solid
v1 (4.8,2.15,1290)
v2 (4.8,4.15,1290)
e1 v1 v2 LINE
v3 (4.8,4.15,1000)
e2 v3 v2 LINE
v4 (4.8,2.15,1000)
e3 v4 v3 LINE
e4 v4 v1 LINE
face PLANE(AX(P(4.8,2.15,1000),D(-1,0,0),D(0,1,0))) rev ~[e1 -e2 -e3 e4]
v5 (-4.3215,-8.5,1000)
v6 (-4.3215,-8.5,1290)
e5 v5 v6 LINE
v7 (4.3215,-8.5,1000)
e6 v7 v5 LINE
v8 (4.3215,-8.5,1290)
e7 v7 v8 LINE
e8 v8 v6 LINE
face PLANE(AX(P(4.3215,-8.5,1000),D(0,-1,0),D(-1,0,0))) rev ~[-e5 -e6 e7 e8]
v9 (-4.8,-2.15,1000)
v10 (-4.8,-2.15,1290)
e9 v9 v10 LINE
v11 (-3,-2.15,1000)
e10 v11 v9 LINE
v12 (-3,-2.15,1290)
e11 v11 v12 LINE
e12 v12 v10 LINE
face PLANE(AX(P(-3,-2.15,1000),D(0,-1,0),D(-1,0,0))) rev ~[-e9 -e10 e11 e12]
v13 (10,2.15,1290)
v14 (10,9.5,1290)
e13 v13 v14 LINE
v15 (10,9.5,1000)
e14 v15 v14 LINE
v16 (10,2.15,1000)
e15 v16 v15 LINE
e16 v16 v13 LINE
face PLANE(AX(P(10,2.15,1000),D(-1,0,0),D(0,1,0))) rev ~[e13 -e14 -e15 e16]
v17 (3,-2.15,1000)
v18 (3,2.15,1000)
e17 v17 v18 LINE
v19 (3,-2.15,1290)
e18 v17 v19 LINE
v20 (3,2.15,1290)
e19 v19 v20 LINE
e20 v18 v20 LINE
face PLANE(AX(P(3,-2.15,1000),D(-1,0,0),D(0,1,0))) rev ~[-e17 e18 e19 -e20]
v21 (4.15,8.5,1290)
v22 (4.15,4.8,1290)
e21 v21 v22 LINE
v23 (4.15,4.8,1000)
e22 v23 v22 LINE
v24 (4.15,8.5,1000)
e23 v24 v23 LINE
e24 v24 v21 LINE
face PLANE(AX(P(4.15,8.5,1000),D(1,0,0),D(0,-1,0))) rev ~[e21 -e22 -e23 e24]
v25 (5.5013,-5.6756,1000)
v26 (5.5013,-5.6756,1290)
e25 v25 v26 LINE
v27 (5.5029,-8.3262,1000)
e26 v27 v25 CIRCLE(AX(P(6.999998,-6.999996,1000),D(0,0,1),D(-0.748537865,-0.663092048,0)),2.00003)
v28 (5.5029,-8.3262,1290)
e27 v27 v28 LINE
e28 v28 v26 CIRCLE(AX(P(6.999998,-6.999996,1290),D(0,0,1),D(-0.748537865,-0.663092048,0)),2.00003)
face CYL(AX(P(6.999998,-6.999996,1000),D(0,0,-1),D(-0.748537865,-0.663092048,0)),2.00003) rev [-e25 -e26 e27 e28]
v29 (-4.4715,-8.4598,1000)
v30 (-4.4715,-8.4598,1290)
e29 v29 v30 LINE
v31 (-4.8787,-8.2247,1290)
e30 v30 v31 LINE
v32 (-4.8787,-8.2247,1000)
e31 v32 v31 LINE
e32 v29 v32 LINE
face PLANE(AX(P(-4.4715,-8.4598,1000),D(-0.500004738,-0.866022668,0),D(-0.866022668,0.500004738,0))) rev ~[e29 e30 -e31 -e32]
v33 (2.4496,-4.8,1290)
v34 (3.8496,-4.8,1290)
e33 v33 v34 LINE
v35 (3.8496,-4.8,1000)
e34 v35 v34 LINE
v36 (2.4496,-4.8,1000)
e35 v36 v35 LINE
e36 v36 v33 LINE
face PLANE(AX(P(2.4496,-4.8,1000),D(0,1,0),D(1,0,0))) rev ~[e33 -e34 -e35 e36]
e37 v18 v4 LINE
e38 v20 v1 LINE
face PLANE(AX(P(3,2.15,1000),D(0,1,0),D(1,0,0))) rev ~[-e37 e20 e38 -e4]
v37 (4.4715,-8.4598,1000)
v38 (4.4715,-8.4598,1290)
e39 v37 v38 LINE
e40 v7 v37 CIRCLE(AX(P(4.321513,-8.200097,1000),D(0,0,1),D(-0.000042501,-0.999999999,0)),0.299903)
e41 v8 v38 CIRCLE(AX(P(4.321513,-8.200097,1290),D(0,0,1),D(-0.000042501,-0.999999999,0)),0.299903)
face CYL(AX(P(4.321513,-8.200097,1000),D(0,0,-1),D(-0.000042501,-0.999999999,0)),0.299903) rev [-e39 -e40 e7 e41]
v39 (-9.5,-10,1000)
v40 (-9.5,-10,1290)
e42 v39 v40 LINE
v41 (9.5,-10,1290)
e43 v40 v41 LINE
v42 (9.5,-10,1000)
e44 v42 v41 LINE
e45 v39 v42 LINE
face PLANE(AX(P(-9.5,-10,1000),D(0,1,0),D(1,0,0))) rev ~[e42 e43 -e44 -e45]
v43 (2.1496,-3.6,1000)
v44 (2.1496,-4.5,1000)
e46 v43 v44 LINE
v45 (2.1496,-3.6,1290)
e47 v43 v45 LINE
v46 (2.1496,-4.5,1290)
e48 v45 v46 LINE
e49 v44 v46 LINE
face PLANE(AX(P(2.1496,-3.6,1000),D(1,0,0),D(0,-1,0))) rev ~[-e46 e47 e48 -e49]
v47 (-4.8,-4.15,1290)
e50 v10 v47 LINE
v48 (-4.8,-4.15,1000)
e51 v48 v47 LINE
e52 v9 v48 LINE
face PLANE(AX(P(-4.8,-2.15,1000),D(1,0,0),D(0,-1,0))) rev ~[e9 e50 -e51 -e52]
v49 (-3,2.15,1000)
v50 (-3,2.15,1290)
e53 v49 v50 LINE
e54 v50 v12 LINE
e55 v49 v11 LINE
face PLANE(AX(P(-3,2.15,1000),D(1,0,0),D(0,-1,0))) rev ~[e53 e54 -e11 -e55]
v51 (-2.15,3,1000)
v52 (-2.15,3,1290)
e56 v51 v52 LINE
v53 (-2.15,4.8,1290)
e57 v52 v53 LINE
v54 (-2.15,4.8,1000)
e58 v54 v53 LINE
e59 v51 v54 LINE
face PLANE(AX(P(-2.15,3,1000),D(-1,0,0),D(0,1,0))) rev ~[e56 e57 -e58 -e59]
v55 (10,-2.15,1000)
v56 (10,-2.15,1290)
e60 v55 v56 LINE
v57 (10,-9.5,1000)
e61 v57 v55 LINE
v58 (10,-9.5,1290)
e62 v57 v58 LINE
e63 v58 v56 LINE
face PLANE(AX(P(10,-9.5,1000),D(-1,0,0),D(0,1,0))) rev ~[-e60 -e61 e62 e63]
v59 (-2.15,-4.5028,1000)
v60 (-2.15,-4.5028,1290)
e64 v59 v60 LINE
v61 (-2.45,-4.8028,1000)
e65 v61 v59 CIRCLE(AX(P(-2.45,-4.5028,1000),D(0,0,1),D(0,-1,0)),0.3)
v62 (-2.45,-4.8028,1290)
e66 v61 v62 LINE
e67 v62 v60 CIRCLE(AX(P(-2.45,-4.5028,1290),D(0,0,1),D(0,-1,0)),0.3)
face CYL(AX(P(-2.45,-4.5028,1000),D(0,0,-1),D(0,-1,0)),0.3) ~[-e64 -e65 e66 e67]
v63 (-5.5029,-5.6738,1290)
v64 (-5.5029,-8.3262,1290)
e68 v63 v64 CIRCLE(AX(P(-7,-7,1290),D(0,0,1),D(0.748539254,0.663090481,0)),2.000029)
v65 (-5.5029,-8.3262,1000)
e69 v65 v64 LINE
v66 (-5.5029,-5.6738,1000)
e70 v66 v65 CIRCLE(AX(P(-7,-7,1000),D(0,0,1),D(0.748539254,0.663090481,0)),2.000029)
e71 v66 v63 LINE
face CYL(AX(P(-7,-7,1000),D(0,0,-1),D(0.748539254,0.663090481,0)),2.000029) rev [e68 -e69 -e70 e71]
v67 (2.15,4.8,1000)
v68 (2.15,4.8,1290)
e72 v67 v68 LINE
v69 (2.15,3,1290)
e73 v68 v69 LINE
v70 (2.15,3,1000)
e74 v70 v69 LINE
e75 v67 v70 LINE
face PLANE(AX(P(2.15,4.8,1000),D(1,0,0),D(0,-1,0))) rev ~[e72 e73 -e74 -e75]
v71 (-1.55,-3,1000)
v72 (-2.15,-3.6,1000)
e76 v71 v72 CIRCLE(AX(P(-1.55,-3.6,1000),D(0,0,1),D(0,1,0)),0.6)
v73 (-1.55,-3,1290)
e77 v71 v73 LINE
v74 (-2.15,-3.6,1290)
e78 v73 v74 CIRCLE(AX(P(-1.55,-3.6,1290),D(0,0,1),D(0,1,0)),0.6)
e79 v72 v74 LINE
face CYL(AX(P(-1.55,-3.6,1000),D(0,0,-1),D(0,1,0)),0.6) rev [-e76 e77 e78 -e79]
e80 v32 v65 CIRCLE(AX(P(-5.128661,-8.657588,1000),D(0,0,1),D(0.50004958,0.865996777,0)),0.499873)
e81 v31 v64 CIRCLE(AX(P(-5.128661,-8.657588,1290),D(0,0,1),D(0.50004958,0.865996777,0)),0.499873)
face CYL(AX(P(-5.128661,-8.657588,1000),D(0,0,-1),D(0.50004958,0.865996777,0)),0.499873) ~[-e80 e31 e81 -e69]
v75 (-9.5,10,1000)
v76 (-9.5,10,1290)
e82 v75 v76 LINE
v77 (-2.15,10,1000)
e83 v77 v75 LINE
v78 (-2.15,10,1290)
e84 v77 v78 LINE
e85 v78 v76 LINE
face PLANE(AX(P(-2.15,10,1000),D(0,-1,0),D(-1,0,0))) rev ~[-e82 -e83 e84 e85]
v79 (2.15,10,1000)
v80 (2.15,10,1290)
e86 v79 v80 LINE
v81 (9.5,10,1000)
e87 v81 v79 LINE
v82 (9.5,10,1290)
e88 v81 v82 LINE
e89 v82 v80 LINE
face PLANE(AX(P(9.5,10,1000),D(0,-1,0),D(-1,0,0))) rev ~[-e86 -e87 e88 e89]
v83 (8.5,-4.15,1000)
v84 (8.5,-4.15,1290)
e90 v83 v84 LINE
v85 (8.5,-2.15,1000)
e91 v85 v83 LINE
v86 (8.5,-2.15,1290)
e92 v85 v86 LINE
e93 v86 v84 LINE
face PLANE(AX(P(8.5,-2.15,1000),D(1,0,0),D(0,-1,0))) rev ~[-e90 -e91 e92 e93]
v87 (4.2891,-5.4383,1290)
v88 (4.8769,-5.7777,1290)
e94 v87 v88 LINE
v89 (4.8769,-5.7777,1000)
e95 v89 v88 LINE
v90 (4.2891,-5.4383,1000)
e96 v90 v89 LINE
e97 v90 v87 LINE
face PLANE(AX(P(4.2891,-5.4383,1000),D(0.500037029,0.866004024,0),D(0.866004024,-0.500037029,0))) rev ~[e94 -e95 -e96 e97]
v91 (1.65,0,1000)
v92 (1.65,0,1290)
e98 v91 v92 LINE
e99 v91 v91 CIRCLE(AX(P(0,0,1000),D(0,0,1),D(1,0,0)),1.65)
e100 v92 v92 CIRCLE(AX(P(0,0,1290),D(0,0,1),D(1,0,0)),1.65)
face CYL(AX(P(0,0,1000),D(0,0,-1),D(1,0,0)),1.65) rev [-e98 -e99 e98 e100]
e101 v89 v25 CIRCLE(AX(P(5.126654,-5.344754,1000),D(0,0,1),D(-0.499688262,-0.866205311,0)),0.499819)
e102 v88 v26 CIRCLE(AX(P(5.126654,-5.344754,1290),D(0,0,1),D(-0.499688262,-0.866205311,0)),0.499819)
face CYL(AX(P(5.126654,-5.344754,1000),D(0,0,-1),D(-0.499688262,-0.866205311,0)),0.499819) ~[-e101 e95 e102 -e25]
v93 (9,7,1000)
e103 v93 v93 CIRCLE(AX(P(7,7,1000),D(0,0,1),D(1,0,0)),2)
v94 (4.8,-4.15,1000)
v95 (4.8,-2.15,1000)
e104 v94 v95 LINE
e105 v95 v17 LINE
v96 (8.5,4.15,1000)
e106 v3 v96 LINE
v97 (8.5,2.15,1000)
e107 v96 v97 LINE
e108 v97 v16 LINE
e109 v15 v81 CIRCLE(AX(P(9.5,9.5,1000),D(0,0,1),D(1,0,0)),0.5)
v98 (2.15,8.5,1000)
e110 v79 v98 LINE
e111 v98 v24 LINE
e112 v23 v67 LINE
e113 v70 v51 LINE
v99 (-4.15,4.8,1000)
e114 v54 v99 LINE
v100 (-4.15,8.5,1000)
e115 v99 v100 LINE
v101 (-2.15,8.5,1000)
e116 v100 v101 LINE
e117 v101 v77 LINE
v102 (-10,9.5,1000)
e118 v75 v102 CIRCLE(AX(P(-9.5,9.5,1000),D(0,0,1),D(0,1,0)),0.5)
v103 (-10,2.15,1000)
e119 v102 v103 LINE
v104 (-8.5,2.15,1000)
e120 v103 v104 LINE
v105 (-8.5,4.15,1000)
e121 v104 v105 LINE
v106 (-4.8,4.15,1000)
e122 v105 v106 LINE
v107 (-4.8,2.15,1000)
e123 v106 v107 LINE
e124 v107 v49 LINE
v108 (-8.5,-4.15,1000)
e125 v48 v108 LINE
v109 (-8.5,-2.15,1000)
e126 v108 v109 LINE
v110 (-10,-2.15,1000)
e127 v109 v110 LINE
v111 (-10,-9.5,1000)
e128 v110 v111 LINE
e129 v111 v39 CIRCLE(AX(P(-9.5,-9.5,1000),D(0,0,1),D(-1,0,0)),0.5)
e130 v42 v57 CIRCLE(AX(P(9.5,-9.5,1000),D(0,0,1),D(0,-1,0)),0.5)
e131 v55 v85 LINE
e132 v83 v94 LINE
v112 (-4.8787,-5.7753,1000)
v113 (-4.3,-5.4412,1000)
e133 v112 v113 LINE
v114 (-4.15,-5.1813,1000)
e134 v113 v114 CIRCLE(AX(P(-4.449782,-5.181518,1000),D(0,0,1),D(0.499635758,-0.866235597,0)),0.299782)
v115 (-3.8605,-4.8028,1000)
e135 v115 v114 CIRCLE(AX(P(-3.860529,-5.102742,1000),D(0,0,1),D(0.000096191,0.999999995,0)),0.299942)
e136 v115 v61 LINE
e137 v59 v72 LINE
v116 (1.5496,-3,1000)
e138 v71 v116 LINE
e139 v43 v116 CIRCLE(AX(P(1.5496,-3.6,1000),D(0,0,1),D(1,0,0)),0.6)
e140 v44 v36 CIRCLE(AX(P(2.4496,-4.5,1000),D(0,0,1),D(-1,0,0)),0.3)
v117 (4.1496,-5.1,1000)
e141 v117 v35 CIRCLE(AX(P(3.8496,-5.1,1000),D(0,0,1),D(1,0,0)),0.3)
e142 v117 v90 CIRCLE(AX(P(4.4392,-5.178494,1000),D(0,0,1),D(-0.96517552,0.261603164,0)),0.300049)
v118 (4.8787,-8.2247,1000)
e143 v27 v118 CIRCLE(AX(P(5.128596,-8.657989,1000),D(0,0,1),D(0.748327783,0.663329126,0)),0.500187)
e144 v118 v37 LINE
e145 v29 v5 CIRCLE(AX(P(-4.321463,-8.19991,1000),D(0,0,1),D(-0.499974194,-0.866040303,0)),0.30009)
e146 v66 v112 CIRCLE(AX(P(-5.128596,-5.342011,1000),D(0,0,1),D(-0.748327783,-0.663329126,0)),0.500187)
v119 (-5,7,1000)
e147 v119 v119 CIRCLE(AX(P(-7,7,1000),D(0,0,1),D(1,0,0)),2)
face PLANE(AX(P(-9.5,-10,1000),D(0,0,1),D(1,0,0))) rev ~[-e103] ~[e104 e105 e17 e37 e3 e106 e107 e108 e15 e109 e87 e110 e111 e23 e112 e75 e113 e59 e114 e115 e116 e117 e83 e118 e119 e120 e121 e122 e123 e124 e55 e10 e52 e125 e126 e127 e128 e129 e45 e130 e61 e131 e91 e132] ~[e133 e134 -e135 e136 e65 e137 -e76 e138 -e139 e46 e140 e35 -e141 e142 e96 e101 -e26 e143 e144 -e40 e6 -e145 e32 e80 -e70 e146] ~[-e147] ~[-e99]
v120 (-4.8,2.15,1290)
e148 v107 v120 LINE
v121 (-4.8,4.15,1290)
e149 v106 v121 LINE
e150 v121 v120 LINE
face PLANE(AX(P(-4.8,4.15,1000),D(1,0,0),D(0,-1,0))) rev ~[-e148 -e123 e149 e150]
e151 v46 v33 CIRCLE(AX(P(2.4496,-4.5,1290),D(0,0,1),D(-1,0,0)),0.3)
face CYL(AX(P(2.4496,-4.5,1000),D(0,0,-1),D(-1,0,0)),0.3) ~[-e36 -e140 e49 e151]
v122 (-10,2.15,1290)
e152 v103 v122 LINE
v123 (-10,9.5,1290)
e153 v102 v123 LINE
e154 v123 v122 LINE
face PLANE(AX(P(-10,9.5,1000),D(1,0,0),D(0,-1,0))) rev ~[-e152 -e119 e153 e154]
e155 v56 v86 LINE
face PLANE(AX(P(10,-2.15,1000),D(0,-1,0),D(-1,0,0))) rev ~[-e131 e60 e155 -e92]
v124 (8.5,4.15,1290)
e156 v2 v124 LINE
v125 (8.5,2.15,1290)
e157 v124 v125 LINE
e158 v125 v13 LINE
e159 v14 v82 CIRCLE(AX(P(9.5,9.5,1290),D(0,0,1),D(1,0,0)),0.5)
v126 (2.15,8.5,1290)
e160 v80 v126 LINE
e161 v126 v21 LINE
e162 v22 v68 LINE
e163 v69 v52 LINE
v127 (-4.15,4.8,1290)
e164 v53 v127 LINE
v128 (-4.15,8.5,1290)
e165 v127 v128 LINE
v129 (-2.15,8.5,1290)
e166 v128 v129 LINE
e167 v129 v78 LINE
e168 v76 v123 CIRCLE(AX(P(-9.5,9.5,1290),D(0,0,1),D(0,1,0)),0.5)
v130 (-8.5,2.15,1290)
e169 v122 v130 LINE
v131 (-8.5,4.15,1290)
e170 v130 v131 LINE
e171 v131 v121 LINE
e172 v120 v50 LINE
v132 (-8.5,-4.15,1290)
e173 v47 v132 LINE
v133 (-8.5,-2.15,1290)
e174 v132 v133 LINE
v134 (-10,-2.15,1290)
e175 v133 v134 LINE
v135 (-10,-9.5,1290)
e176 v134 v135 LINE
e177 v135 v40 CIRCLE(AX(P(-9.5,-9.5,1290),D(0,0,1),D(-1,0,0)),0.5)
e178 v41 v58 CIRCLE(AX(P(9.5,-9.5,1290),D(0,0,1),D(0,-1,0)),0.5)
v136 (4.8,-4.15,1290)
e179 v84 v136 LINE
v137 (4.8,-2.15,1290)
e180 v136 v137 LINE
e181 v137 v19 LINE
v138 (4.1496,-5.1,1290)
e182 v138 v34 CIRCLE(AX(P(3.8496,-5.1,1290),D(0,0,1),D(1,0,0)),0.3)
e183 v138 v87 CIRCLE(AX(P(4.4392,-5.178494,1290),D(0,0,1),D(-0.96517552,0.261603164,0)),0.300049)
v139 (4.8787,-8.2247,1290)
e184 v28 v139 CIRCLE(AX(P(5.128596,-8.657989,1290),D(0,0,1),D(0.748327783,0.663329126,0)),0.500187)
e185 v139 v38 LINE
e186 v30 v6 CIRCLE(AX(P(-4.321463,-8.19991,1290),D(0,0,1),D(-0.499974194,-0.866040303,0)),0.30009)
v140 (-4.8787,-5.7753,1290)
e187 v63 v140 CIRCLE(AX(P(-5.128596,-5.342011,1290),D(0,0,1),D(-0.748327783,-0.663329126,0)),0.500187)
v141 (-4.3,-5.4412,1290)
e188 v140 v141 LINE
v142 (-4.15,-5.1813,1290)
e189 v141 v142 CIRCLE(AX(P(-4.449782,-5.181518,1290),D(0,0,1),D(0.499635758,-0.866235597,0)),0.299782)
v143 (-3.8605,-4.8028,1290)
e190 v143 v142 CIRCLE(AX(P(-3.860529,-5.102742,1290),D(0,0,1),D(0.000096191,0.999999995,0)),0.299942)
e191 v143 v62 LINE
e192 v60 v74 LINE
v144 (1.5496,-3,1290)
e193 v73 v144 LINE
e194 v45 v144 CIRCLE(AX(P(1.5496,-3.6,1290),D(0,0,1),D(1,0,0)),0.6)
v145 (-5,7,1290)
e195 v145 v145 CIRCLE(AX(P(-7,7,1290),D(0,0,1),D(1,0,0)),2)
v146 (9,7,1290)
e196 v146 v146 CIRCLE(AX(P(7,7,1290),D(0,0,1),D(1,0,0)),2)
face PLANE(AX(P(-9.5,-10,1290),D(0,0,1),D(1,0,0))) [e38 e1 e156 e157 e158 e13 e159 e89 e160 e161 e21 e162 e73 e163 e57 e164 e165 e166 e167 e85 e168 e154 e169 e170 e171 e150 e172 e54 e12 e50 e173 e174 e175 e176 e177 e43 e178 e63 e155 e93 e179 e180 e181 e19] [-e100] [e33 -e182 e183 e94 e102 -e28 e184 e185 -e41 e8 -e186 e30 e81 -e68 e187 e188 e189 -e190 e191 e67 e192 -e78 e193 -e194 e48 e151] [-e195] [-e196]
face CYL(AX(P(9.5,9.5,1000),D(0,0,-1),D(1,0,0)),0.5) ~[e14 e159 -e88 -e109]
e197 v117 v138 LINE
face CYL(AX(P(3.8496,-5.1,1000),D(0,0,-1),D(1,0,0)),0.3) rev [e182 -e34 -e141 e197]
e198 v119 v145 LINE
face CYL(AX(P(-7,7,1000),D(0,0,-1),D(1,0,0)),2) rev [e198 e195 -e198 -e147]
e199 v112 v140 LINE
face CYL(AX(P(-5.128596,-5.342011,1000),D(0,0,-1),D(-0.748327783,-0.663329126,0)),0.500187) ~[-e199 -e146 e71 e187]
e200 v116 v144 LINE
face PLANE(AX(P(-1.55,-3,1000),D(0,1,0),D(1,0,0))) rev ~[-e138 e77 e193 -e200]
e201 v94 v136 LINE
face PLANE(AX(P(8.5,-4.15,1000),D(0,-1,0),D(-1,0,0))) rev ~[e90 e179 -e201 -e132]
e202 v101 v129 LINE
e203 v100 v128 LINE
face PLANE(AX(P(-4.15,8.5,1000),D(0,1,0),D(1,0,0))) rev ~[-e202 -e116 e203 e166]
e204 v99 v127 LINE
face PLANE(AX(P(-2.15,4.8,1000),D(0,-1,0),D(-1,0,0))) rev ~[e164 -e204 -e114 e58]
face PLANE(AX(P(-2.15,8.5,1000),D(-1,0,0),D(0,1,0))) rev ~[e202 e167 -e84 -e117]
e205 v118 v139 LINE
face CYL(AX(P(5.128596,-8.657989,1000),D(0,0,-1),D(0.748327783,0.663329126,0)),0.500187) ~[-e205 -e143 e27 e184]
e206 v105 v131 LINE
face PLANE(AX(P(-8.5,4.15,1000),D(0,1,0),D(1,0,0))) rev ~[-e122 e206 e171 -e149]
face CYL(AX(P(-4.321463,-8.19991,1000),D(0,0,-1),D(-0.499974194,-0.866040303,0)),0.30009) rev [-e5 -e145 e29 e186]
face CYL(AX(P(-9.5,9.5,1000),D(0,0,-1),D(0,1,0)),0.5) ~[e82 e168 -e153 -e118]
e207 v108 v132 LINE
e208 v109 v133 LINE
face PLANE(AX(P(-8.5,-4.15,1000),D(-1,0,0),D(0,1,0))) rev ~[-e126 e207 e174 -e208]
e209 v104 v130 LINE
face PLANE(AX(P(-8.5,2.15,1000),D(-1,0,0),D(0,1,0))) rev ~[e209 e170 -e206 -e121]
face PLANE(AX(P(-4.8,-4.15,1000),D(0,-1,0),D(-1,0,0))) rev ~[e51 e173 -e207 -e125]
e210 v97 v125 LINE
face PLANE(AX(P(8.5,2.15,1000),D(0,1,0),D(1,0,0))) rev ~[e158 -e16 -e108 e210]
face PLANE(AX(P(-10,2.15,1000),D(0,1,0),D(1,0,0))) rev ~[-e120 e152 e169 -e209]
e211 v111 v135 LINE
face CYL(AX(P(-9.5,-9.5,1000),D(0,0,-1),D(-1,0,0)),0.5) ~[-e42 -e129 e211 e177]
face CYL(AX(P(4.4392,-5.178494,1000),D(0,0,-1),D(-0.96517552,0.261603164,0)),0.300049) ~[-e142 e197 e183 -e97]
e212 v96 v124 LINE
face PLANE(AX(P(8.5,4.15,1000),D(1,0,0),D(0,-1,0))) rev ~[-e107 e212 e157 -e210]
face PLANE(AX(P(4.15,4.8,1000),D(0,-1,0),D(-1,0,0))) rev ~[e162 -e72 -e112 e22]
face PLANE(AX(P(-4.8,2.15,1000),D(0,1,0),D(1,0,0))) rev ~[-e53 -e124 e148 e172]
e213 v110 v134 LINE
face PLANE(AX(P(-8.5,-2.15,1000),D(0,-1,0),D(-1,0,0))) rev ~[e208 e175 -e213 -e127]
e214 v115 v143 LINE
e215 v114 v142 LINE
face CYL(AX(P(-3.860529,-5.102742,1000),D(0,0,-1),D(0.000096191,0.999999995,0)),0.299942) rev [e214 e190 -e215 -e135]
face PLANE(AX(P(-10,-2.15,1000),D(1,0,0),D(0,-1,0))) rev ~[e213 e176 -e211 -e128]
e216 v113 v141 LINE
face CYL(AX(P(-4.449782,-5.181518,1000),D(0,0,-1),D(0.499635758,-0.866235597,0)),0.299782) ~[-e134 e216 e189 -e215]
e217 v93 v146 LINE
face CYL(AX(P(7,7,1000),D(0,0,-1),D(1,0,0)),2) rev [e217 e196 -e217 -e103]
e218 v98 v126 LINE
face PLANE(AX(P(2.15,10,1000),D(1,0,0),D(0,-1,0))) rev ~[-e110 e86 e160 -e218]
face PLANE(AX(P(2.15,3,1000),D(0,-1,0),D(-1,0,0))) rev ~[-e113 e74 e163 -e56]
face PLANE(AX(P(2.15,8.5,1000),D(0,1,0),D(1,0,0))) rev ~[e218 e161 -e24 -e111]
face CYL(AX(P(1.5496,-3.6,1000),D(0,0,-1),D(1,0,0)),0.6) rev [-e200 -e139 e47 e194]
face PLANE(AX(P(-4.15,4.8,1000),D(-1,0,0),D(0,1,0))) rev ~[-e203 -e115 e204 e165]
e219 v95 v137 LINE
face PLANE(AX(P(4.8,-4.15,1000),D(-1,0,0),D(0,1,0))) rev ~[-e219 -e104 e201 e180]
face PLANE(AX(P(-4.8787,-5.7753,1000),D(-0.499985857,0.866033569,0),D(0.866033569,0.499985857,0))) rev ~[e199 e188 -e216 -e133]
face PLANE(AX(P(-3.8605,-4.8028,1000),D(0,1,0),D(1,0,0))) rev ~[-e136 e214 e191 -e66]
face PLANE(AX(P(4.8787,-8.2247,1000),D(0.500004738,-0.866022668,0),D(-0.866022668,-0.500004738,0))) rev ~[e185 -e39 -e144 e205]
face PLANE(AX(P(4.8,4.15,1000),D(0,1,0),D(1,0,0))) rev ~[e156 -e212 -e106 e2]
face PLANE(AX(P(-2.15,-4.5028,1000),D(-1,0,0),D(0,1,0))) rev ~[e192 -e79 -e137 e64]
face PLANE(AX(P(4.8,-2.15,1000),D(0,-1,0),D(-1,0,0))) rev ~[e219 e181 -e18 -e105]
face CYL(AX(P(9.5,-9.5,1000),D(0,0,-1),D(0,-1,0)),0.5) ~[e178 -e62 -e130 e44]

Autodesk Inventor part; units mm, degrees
ref_plane "YZ Plane" through (0, 0, 0) normal (1, 0, 0) x (0, 1, 0)
ref_plane "XZ Plane" through (0, 0, 0) normal (0, 1, 0) x (-1, 0, 0)
ref_plane "作業平面1" through (-9.5, -10, 1000) normal (0, 0, 1) x (1, 0, 0)
sketch "スケッチ1" plane through (-9.5, -10, 1000) normal (0, 0, 1) x (1, 0, 0)
  line L0 (7.35, 18.5) -> (7.35, 20) projected
  line L1 (7.35, 20) -> (0, 20) projected
  arc A0 (0, 20) -> (-0.5, 19.5) centre (0, 19.5) ccw projected
  line L2 (-0.5, 19.5) -> (-0.5, 12.15) projected
  line L3 (-0.5, 12.15) -> (1, 12.15) projected
  line L4 (1, 12.15) -> (1, 14.15) projected
  line L5 (1, 14.15) -> (4.7, 14.15) projected
  line L6 (4.7, 14.15) -> (4.7, 12.15) projected
  line L7 (4.7, 12.15) -> (6.5, 12.15) projected
  line L8 (6.5, 12.15) -> (6.5, 7.85) projected
  line L9 (6.5, 7.85) -> (4.7, 7.85) projected
  line L10 (4.7, 7.85) -> (4.7, 5.85) projected
  line L11 (4.7, 5.85) -> (1, 5.85) projected
  line L12 (1, 5.85) -> (1, 7.85) projected
  line L13 (1, 7.85) -> (-0.5, 7.85) projected
  line L14 (-0.5, 7.85) -> (-0.5, 0.5) projected
  arc A1 (-0.5, 0.5) -> (0, 0) centre (0, 0.5) ccw projected
  line L15 (0, 0) -> (19, 0) projected
  arc A2 (19, 0) -> (19.5, 0.5) centre (19, 0.5) ccw projected
  line L16 (19.5, 0.5) -> (19.5, 7.85) projected
  line L17 (19.5, 7.85) -> (18, 7.85) projected
  line L18 (18, 7.85) -> (18, 5.85) projected
  line L19 (18, 5.85) -> (14.3, 5.85) projected
  line L20 (14.3, 5.85) -> (14.3, 7.85) projected
  line L21 (14.3, 7.85) -> (12.5, 7.85) projected
  line L22 (12.5, 7.85) -> (12.5, 12.15) projected
  line L23 (12.5, 12.15) -> (14.3, 12.15) projected
  line L24 (14.3, 12.15) -> (14.3, 14.15) projected
  line L25 (14.3, 14.15) -> (18, 14.15) projected
  line L26 (18, 14.15) -> (18, 12.15) projected
  line L27 (18, 12.15) -> (19.5, 12.15) projected
  line L28 (19.5, 12.15) -> (19.5, 19.5) projected
  arc A3 (19.5, 19.5) -> (19, 20) centre (19, 19.5) ccw projected
  line L29 (19, 20) -> (11.65, 20) projected
  line L30 (11.65, 20) -> (11.65, 18.5) projected
  line L31 (11.65, 18.5) -> (13.65, 18.5) projected
  line L32 (13.65, 18.5) -> (13.65, 14.8) projected
  line L33 (13.65, 14.8) -> (11.65, 14.8) projected
  line L34 (11.65, 14.8) -> (11.65, 13) projected
  line L35 (11.65, 13) -> (7.35, 13) projected
  line L36 (7.35, 13) -> (7.35, 14.8) projected
  line L37 (7.35, 14.8) -> (5.35, 14.8) projected
  line L38 (5.35, 14.8) -> (5.35, 18.5) projected
  line L39 (5.35, 18.5) -> (7.35, 18.5) projected
  arc A4 (11.6496, 6.4) -> (11.0496, 7) centre (11.0496, 6.4) ccw projected
  line L40 (11.6496, 6.4) -> (11.6496, 5.5) projected
  arc A5 (11.6496, 5.5) -> (11.9496, 5.2) centre (11.9496, 5.5) ccw projected
  line L41 (11.9496, 5.2) -> (13.3496, 5.2) projected
  arc A6 (13.6496, 4.9) -> (13.3496, 5.2) centre (13.3496, 4.9) ccw projected
  arc A7 (13.6496, 4.9) -> (13.7891, 4.5617) centre (13.9391, 4.8215) ccw projected
  line L42 (13.7891, 4.5617) -> (14.3769, 4.2223) projected
  arc A8 (14.3769, 4.2223) -> (15.0013, 4.3244) centre (14.6267, 4.6555) ccw projected
  arc A9 (15.0029, 1.6738) -> (15.0013, 4.3244) centre (16.5, 3) ccw projected
  arc A10 (15.0029, 1.6738) -> (14.3787, 1.7753) centre (14.6287, 1.3422) ccw projected
  line L43 (14.3787, 1.7753) -> (13.9715, 1.5402) projected
  arc A11 (13.8215, 1.5) -> (13.9715, 1.5402) centre (13.8215, 1.8) ccw projected
  line L44 (13.8215, 1.5) -> (5.1785, 1.5) projected
  arc A12 (5.0285, 1.5402) -> (5.1785, 1.5) centre (5.1785, 1.8) ccw projected
  line L45 (5.0285, 1.5402) -> (4.6213, 1.7753) projected
  arc A13 (4.6213, 1.7753) -> (3.9971, 1.6738) centre (4.3713, 1.3422) ccw projected
  arc A14 (3.9971, 4.3262) -> (3.9971, 1.6738) centre (2.5, 3) ccw projected
  arc A15 (3.9971, 4.3262) -> (4.6213, 4.2247) centre (4.3713, 4.6578) ccw projected
  line L46 (4.6213, 4.2247) -> (5.2, 4.5588) projected
  arc A16 (5.2, 4.5588) -> (5.35, 4.8187) centre (5.05, 4.8187) ccw projected
  arc A17 (5.6395, 5.1972) -> (5.35, 4.8187) centre (5.6395, 4.8972) ccw projected
  line L47 (5.6395, 5.1972) -> (7.05, 5.1972) projected
  arc A18 (7.05, 5.1972) -> (7.35, 5.4972) centre (7.05, 5.4972) ccw projected
  line L48 (7.35, 5.4972) -> (7.35, 6.4) projected
  arc A19 (7.95, 7) -> (7.35, 6.4) centre (7.95, 6.4) ccw projected
  line L49 (7.95, 7) -> (11.0496, 7) projected
  circle A20 centre (2.5, 17) radius 2 projected
  circle A21 centre (16.5, 17) radius 2 projected
  circle A22 centre (9.5, 10) radius 1.65 projected
  point P0 (9.5, 10)
extrude "押し出し1" add sketch "スケッチ1" along normal blind 290
properties part number "AFSF-2020-4"
